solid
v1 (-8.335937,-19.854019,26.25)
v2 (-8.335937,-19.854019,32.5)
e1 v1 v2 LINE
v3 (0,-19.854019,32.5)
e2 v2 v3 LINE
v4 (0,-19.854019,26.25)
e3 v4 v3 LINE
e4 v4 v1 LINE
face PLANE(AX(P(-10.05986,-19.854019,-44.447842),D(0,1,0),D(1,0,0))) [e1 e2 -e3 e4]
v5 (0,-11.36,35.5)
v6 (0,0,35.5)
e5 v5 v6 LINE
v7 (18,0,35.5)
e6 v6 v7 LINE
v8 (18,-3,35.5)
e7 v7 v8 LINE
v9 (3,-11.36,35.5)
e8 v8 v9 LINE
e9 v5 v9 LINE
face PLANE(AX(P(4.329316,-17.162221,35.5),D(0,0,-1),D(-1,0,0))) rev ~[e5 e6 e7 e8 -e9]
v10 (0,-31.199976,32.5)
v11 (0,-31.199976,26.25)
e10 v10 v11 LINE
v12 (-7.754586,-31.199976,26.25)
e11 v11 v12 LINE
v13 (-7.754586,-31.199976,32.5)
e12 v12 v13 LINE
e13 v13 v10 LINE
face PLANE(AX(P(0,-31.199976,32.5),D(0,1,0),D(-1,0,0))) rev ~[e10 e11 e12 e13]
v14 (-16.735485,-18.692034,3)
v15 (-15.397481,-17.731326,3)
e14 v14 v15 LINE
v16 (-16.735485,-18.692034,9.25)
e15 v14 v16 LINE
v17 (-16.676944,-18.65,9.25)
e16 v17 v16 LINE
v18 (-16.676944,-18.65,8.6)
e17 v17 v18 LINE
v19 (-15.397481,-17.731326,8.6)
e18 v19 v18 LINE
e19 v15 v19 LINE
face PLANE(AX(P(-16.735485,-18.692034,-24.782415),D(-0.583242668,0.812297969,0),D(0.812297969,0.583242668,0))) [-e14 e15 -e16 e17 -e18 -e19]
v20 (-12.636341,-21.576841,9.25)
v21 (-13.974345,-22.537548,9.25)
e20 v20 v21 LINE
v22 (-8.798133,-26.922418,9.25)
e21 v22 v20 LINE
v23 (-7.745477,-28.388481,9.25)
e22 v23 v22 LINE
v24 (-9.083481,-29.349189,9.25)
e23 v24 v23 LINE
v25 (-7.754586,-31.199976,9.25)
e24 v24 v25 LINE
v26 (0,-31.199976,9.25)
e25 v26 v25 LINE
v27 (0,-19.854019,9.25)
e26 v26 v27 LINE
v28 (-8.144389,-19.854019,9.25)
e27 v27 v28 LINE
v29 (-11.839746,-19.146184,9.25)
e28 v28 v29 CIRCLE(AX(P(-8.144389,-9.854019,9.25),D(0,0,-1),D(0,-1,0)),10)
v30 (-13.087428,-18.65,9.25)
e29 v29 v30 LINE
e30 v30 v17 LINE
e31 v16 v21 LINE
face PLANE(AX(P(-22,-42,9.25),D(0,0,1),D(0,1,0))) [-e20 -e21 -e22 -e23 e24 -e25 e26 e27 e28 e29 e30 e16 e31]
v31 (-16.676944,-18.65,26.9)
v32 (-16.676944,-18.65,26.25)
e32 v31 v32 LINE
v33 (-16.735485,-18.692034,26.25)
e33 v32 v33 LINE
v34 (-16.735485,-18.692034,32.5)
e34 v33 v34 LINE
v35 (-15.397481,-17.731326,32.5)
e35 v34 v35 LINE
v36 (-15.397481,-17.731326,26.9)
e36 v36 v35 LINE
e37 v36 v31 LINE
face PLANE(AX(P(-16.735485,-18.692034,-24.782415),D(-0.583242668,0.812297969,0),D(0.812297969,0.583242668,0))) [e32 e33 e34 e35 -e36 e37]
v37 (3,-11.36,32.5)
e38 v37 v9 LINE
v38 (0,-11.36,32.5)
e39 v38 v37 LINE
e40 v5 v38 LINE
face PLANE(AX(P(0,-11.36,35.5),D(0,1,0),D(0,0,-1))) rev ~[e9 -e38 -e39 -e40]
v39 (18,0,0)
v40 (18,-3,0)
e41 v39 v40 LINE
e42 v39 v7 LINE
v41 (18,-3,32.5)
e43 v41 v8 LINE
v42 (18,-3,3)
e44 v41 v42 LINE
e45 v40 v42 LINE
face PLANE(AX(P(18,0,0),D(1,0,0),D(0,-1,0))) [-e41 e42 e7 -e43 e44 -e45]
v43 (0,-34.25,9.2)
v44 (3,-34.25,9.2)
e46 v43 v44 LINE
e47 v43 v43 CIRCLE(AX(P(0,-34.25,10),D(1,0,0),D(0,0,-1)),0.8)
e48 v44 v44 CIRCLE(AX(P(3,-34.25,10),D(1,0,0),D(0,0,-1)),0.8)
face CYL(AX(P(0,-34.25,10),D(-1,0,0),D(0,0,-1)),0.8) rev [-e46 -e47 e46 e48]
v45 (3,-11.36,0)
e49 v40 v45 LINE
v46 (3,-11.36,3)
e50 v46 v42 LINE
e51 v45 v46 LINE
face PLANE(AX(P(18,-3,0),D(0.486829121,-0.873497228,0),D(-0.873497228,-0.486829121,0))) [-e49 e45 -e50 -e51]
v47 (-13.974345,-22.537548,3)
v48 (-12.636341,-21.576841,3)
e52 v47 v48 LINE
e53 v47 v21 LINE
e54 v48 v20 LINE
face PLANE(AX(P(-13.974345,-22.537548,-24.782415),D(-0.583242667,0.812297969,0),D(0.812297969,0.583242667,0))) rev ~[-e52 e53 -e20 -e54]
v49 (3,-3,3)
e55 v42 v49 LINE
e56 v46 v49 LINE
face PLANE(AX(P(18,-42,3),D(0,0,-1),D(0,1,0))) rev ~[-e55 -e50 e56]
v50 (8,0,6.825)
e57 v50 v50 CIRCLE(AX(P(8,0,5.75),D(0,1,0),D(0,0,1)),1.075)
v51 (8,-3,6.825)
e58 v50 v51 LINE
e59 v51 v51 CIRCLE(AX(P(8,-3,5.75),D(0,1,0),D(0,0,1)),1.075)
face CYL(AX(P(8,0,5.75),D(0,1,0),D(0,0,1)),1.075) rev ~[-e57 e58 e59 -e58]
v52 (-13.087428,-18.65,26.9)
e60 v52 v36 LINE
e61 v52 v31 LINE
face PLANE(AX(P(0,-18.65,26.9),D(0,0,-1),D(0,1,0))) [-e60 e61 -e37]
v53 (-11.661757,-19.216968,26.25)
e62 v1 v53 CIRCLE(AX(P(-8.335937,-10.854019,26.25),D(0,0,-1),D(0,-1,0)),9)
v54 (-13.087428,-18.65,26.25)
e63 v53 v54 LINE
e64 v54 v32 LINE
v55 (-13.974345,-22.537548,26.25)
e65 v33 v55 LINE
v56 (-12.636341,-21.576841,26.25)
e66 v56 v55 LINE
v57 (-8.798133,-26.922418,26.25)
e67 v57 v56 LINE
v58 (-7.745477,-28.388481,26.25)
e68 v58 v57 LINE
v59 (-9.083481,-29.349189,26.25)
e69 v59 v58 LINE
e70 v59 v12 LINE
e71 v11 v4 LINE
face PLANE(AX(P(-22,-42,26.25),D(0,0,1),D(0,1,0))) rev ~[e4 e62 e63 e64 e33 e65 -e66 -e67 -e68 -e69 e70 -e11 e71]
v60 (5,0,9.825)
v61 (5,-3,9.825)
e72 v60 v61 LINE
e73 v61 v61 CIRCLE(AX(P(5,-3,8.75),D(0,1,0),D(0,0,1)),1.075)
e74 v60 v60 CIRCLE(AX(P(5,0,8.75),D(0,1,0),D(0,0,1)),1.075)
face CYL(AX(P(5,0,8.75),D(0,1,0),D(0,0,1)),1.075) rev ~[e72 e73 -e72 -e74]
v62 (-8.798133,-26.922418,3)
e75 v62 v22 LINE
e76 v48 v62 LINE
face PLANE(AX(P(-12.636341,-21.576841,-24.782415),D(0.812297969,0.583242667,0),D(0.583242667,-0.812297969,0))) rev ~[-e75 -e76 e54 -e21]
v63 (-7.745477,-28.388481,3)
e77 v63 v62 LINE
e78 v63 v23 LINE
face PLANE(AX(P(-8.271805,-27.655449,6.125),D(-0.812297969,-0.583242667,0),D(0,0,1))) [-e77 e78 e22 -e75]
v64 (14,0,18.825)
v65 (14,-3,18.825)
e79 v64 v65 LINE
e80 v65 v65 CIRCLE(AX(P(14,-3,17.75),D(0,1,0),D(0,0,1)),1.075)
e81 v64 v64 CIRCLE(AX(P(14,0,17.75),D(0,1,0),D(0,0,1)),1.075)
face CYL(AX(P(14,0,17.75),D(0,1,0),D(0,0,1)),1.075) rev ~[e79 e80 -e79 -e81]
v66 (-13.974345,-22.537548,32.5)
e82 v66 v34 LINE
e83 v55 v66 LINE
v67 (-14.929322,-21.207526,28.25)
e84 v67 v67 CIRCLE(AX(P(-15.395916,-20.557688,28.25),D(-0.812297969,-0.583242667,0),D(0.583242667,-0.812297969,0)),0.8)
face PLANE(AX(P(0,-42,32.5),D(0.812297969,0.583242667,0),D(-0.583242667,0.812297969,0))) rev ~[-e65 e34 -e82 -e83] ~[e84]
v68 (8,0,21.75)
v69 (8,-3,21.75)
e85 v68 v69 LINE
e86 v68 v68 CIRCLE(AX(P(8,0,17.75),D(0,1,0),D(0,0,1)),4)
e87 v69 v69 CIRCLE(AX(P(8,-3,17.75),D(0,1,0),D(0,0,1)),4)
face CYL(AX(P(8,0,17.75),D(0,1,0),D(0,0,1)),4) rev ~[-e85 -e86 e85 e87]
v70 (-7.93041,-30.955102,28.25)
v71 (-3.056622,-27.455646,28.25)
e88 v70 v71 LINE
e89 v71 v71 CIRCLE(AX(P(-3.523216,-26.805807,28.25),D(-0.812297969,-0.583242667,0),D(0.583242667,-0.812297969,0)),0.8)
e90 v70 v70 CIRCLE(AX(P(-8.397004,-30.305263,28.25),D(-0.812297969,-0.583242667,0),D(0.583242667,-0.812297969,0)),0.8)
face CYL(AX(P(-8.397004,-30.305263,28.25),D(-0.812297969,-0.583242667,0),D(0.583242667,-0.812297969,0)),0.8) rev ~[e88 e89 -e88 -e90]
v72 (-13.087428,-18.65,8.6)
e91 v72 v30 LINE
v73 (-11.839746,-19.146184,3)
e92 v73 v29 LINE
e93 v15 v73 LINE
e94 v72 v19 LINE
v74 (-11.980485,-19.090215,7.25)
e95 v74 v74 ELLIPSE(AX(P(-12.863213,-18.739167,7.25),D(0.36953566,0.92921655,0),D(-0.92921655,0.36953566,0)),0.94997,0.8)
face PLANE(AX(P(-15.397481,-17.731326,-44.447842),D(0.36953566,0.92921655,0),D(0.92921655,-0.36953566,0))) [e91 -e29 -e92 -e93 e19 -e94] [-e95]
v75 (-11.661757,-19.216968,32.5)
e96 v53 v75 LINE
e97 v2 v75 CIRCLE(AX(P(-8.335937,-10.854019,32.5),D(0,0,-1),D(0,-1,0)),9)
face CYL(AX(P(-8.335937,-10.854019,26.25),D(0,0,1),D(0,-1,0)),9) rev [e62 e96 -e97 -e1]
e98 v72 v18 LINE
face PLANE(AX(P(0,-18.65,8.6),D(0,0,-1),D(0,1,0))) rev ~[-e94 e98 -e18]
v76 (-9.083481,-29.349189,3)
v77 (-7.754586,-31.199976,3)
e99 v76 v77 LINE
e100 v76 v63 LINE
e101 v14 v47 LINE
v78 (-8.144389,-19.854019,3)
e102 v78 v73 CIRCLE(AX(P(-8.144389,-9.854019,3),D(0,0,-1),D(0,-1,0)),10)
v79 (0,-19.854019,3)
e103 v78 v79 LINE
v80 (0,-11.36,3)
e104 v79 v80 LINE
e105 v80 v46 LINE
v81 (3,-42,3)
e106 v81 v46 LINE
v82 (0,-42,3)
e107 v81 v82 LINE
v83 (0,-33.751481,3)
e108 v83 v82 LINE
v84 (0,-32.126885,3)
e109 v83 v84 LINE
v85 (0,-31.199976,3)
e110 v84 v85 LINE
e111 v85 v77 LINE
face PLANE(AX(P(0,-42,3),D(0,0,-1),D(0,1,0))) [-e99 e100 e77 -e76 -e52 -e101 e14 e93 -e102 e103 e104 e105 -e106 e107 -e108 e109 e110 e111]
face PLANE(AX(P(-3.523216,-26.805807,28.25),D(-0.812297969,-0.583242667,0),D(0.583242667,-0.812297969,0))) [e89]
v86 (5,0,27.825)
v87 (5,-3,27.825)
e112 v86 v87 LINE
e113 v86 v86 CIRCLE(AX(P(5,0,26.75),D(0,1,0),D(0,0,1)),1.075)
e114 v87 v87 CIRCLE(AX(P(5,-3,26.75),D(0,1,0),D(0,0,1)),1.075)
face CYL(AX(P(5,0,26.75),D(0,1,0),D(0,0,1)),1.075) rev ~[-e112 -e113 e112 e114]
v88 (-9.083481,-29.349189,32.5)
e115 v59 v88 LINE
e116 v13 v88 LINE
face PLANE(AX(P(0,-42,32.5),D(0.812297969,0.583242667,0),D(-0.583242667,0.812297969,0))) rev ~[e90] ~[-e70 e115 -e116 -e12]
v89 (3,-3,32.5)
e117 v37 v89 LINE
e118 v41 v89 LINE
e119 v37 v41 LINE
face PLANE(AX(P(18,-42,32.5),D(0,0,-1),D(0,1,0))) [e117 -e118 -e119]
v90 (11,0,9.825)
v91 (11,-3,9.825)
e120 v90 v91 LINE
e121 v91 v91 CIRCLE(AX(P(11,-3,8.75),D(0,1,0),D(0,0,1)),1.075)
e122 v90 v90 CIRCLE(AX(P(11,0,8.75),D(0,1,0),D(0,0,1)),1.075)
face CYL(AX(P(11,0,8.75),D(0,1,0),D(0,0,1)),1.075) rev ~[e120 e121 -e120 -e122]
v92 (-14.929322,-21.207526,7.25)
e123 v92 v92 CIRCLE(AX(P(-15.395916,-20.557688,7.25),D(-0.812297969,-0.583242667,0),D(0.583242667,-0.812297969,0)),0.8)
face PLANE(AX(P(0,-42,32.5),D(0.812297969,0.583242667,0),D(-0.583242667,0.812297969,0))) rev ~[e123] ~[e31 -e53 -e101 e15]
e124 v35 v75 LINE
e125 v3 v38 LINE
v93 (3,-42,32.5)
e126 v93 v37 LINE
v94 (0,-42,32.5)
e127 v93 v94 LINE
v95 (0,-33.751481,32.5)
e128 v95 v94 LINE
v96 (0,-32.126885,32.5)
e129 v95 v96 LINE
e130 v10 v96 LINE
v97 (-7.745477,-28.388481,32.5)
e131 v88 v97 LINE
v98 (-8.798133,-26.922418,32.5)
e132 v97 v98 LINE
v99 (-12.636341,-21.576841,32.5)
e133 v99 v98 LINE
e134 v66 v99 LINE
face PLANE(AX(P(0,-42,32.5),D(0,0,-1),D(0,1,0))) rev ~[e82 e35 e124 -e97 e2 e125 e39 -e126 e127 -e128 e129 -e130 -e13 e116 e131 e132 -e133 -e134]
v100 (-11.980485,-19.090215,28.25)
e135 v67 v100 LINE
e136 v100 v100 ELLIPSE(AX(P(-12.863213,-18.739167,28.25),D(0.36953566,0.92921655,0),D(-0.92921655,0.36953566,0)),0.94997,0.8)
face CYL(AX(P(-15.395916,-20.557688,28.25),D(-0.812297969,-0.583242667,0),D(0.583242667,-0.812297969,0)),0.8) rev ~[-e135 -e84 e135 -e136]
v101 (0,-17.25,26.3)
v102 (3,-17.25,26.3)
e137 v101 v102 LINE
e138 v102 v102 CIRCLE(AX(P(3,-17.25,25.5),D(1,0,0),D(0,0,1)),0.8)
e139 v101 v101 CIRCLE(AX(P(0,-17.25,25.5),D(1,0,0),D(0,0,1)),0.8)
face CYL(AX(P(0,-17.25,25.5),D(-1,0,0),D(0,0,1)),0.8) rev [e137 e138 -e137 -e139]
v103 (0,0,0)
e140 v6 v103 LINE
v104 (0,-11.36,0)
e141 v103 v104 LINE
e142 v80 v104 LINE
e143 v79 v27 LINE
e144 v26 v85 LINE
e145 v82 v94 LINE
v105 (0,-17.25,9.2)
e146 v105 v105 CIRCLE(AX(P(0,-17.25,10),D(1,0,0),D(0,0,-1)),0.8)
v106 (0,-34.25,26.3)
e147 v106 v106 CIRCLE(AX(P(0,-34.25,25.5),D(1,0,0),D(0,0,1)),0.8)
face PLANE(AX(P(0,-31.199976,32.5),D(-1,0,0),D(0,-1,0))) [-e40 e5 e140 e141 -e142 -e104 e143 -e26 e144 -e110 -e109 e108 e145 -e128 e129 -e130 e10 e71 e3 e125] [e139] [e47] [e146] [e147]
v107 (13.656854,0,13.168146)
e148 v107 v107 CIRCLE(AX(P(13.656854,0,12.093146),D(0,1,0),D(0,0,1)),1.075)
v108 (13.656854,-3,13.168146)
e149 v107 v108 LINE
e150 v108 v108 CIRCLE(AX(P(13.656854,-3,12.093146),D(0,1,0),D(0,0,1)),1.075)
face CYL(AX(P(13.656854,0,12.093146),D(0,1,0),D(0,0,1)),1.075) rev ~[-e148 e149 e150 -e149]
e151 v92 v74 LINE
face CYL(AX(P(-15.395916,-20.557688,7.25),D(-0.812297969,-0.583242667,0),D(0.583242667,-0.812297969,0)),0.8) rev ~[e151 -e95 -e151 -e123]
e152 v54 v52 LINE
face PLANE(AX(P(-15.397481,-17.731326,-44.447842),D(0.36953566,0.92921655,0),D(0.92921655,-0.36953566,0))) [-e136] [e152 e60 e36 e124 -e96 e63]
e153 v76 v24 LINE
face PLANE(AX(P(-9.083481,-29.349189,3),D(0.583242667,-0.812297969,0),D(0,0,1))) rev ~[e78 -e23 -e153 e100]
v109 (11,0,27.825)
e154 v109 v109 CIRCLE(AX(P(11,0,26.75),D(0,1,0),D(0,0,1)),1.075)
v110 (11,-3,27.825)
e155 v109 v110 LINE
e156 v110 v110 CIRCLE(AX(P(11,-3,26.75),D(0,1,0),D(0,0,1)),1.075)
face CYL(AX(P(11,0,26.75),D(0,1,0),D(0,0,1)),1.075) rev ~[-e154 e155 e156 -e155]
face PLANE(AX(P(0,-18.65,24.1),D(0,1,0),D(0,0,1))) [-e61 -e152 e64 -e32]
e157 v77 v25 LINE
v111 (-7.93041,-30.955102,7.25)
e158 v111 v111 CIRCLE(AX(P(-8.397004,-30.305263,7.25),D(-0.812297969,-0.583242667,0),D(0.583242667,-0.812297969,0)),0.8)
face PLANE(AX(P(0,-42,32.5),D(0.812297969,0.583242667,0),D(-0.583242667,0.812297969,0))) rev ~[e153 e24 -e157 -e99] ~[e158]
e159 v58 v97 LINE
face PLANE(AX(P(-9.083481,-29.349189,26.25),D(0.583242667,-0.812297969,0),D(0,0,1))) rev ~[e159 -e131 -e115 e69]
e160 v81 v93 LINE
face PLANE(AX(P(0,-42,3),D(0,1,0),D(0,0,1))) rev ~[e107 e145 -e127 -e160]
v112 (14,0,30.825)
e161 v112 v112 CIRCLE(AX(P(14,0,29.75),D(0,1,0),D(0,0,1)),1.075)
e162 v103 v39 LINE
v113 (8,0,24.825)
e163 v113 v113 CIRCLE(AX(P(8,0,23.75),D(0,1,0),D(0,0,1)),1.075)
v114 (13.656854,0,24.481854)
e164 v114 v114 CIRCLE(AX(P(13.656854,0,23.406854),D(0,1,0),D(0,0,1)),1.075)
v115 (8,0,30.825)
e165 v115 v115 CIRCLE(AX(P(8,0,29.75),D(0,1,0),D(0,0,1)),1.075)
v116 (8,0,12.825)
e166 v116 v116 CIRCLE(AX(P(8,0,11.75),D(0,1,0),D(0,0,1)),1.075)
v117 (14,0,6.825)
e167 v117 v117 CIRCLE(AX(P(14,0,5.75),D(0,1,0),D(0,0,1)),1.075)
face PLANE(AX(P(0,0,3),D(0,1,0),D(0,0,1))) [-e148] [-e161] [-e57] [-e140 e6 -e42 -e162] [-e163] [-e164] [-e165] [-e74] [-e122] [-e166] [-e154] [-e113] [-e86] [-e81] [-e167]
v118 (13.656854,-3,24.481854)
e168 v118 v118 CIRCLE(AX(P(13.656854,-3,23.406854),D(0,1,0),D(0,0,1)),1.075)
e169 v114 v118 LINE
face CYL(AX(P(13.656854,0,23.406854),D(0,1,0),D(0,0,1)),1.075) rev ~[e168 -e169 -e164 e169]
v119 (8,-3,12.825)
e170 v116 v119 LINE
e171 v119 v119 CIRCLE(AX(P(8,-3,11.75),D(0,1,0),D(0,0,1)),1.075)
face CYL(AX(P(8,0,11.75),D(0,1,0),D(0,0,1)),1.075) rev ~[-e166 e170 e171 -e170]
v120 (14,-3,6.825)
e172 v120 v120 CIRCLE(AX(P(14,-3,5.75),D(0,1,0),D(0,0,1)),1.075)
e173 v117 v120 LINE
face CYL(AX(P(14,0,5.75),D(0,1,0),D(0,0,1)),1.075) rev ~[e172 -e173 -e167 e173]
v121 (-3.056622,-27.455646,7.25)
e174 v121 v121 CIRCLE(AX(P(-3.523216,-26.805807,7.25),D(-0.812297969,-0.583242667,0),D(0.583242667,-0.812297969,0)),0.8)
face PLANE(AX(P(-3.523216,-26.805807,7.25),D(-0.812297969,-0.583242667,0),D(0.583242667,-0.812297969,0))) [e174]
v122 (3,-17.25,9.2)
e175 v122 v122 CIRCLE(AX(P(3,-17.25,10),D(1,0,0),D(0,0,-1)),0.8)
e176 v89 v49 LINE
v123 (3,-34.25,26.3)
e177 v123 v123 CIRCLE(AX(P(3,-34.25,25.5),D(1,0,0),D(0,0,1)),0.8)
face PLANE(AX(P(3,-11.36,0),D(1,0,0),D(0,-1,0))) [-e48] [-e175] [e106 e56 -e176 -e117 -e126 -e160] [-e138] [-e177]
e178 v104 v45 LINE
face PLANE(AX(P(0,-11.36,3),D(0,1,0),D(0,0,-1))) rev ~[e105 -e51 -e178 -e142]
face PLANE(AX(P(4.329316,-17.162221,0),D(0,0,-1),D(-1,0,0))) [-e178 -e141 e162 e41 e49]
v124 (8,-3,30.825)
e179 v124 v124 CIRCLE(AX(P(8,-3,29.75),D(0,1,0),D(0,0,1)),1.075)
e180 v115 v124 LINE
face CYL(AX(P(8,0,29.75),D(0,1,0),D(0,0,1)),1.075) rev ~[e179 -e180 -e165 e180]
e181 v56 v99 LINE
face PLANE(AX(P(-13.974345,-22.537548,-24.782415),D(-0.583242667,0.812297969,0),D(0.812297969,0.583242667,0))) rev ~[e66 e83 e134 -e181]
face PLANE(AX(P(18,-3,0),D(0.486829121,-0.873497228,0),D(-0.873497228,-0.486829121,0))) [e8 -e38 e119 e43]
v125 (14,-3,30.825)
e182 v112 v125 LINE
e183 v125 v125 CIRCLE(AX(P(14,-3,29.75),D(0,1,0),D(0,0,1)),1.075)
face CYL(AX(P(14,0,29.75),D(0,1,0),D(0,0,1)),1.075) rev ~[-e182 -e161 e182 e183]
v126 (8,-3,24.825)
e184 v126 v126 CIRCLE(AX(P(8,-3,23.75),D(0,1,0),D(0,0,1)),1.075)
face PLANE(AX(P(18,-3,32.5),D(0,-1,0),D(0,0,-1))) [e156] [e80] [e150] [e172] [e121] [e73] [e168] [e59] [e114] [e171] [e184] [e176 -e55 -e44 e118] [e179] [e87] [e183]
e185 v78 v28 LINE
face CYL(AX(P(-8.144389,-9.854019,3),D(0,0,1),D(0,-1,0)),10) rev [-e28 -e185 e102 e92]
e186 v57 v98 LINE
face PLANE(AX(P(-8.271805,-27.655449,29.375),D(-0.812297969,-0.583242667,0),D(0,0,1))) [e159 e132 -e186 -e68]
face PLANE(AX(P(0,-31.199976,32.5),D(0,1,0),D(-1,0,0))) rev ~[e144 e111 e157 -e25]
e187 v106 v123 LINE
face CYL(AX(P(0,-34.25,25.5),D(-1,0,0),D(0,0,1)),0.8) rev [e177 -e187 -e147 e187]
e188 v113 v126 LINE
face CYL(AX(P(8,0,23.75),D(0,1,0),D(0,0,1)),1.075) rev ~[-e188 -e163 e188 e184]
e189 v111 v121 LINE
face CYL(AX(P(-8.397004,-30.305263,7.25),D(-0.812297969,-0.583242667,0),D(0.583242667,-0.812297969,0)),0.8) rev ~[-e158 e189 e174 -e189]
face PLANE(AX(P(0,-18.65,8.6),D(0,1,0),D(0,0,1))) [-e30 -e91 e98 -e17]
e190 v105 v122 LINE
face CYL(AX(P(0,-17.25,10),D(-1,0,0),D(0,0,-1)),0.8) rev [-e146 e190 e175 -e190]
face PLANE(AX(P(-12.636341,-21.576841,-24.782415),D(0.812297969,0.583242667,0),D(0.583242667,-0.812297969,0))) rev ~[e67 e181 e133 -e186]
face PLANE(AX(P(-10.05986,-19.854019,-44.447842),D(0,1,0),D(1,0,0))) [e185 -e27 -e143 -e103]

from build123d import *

# Parameters (mm, degrees)
EXTRUDE_1_DEPTH         = 35.5
SKETCH_2_W              = 29.5
SKETCH_2_H              = 39
CUT_EXTRUDE_2_DEPTH     = 15
SKETCH_3_W              = 3
SKETCH_3_H              = 30.64
CUT_EXTRUDE_3_DEPTH     = 3
SKETCH_4_R              = 0.8
CUT_EXTRUDE_4_DEPTH     = 3
SKETCH_5_R              = 1.075
SKETCH_5_R_2            = 4
CUT_EXTRUDE_6_DEPTH     = 4
SKETCH2_W               = 29.5
SKETCH2_H               = 42
BOSS_EXTRUDE1_DEPTH     = 22
CUT_EXTRUDE1_DEPTH      = 58.482606065
SKETCH4_W               = 17
SKETCH4_H               = 42
CUT_EXTRUDE2_DEPTH      = 22
SKETCH5_R               = 0.8
CUT_EXTRUDE3_DEPTH      = 6
CUT_EXTRUDE4_DEPTH      = 58.482606065
CUT_EXTRUDE4_DEPTH_BACK = 58.482606065
CUT_EXTRUDE5_DEPTH      = 57.282415378
CUT_EXTRUDE5_DEPTH_BACK = 57.282415378
CUT_EXTRUDE6_DEPTH      = 57.282415378
CUT_EXTRUDE6_DEPTH_BACK = 57.282415378
CUT_EXTRUDE7_DEPTH      = 57.073612332
CUT_EXTRUDE7_DEPTH_BACK = 57.073612332
SKETCH9_W               = 7.089051245
SKETCH9_H               = 1.624595939
CUT_EXTRUDE8_DEPTH      = 53.697841512
CUT_EXTRUDE8_DEPTH_BACK = 53.697841512
SKETCH11_W              = 2.8
SKETCH11_H              = 2.8
CUT_EXTRUDE9_DEPTH      = 58.864064842
CUT_EXTRUDE10_DEPTH     = 57.073612332
SKETCH13_W              = 6.25
SKETCH13_H              = 1.804834364
CUT_EXTRUDE11_DEPTH     = 1.647183607
FILLET1_R               = 10
FILLET2_R               = 9


with BuildPart() as part:
    # 草图1 → 凸台-拉伸1 (new body)
    with BuildSketch(Plane.XY):
        Polygon((0, 0), (18, 0), (18, -3), (3, -11.36), (3, -42), (0, -42), align=None)
    extrude(amount=EXTRUDE_1_DEPTH)

    # 草图2 → 切除-拉伸2 (cut)
    with BuildSketch(Plane(origin=(18, 0, 0), x_dir=(0, 0, -1), z_dir=(1, 0, 0))):
        with Locations((-17.75, -22.5)):
            Rectangle(SKETCH_2_W, SKETCH_2_H)
    extrude(amount=-CUT_EXTRUDE_2_DEPTH, mode=Mode.SUBTRACT)

    # 草图3 → 切除-拉伸3 (cut)
    with BuildSketch(Plane(origin=(0, 0, 0), x_dir=(0, 0, -1), z_dir=(1, 0, 0))):
        with Locations((-34, -26.68)):
            Rectangle(SKETCH_3_W, SKETCH_3_H)
        with Locations((-1.5, -26.68)):
            Rectangle(SKETCH_3_W, SKETCH_3_H)
    extrude(amount=CUT_EXTRUDE_3_DEPTH, mode=Mode.SUBTRACT)

    # 草图4 → 切除-拉伸4 (cut)
    with BuildSketch(Plane(origin=(0, 0, 0), x_dir=(0, 0, -1), z_dir=(1, 0, 0))):
        with Locations((-10, -17.25)):
            Circle(SKETCH_4_R)
        with Locations((-10, -34.25)):
            Circle(SKETCH_4_R)
        with Locations(Location((-25.5, -34.25, 0), (0, 0, 180))):
            Circle(SKETCH_4_R)
        with Locations(Location((-25.5, -17.25, 0), (0, 0, 180))):
            Circle(SKETCH_4_R)
    extrude(amount=CUT_EXTRUDE_4_DEPTH, mode=Mode.SUBTRACT)

    # 草图5 → 切除-拉伸6 (cut)
    with BuildSketch(Plane(origin=(0, 0, 0), x_dir=(1, 0, 0), z_dir=(0, 1, 0))):
        with Locations(Location((14, -17.75, 0), (0, 0, 270))):
            Circle(SKETCH_5_R)
        with Locations(Location((13.656854249, -23.406854249, 0), (0, 0, 270))):
            Circle(SKETCH_5_R)
        with Locations(Location((14, -29.75, 0), (0, 0, 270))):
            Circle(SKETCH_5_R)
        with Locations(Location((5, -26.75, 0), (0, 0, 270))):
            Circle(SKETCH_5_R)
        with Locations(Location((5, -8.75, 0), (0, 0, 270))):
            Circle(SKETCH_5_R)
        with Locations(Location((14, -5.75, 0), (0, 0, 270))):
            Circle(SKETCH_5_R)
        with Locations(Location((13.656854249, -12.093145751, 0), (0, 0, 270))):
            Circle(SKETCH_5_R)
        with Locations(Location((8, -17.75, 0), (0, 0, 270))):
            Circle(SKETCH_5_R_2)
        with Locations(Location((8, -23.75, 0), (0, 0, 270))):
            Circle(SKETCH_5_R)
        with Locations(Location((8, -11.75, 0), (0, 0, 270))):
            Circle(SKETCH_5_R)
        with Locations(Location((11, -26.75, 0), (0, 0, 270))):
            Circle(SKETCH_5_R)
        with Locations(Location((11, -8.75, 0), (0, 0, 270))):
            Circle(SKETCH_5_R)
        with Locations(Location((8, -29.75, 0), (0, 0, 270))):
            Circle(SKETCH_5_R)
        with Locations(Location((8, -5.75, 0), (0, 0, 270))):
            Circle(SKETCH_5_R)
    extrude(amount=-CUT_EXTRUDE_6_DEPTH, mode=Mode.SUBTRACT)

    # Sketch2 → Boss-Extrude1 (add)
    with BuildSketch(Plane.ZY):
        with Locations((17.75, -21)):
            Rectangle(SKETCH2_W, SKETCH2_H)
    extrude(amount=BOSS_EXTRUDE1_DEPTH)

    # Sketch3 → Cut-Extrude1 (cut, through all)
    with BuildSketch(Plane.XY.offset(32.5)):
        Polygon((0, -42), (-22, -11.36), (-22, -42), align=None)
    extrude(amount=-CUT_EXTRUDE1_DEPTH, mode=Mode.SUBTRACT)

    # Sketch4 → Cut-Extrude2 (cut)
    with BuildSketch(Plane.ZY.offset(22)):
        with Locations((17.75, -21)):
            Rectangle(SKETCH4_W, SKETCH4_H)
    extrude(amount=-CUT_EXTRUDE2_DEPTH, mode=Mode.SUBTRACT)

    # Sketch5 → Cut-Extrude3 (cut)
    with BuildSketch(Plane(origin=(-19.89820704, -14.287224376, 0), x_dir=(0, 0, 1), z_dir=(-0.8122979693681996, -0.5832426673009267, 0))):
        with Locations(Location((7.25, -7.719412775, 0), (0, 0, 270))):
            Circle(SKETCH5_R)
        with Locations(Location((7.25, -19.719412775, 0), (0, 0, 270))):
            Circle(SKETCH5_R)
        with Locations(Location((28.25, -7.719412775, 0), (0, 0, 270))):
            Circle(SKETCH5_R)
        with Locations(Location((28.25, -19.719412775, 0), (0, 0, 270))):
            Circle(SKETCH5_R)
    extrude(amount=-CUT_EXTRUDE3_DEPTH, mode=Mode.SUBTRACT)

    # Sketch6 → Cut-Extrude4 (cut, two sides: drawn at the far end of the back side and taken through both)
    with BuildSketch(Plane.XY.offset(32.5).offset(-CUT_EXTRUDE4_DEPTH_BACK)):
        Polygon((-18.640286498, -16.039164622), (0, -2.655146902), (0, 0), (-22, 0), (-22, -11.36), align=None)
    extrude(amount=CUT_EXTRUDE4_DEPTH + CUT_EXTRUDE4_DEPTH_BACK, mode=Mode.SUBTRACT)

    # Sketch7 → Cut-Extrude5 (cut, two sides: drawn at the far end of the back side and taken through both)
    with BuildSketch(Plane.XY.offset(32.5).offset(-CUT_EXTRUDE5_DEPTH_BACK)):
        Polygon((-5.922565911, -33.751480932), (0, -33.751480932), (0, -42), align=None)
    extrude(amount=CUT_EXTRUDE5_DEPTH + CUT_EXTRUDE5_DEPTH_BACK, mode=Mode.SUBTRACT)

    # Sketch8 → Cut-Extrude6 (cut, two sides: drawn at the far end of the back side and taken through both)
    with BuildSketch(Plane.XY.offset(32.5).offset(-CUT_EXTRUDE6_DEPTH_BACK)):
        Polygon((-16.735484956, -18.69203368), (-15.397481057, -17.731325919), (-17.302282599, -15.078456862), (-18.640286498, -16.039164622), align=None)
        Polygon((-13.97434516, -22.537548377), (-12.636341261, -21.576840617), (-8.798133161, -26.922417715), (-10.13613706, -27.883125476), align=None)
        Polygon((-7.089051245, -32.126884993), (-5.798120087, -31.199976198), (-3.966099716, -33.751480932), (-5.922565911, -33.751480932), align=None)
    extrude(amount=CUT_EXTRUDE6_DEPTH + CUT_EXTRUDE6_DEPTH_BACK, mode=Mode.SUBTRACT)

    # Sketch9 → Cut-Extrude7 (cut, two sides: drawn at the far end of the back side and taken through both)
    with BuildSketch(Plane.XY.offset(32.5).offset(-CUT_EXTRUDE7_DEPTH_BACK)):
        with Locations((-3.544525623, -32.939182962)):
            Rectangle(SKETCH9_W, SKETCH9_H)
    extrude(amount=CUT_EXTRUDE7_DEPTH + CUT_EXTRUDE7_DEPTH_BACK, mode=Mode.SUBTRACT)

    # Sketch10 → Cut-Extrude8 (cut, two sides: drawn at the far end of the back side and taken through both)
    with BuildSketch(Plane.XY.offset(9.25).offset(-CUT_EXTRUDE8_DEPTH_BACK)):
        Polygon((-10.059859583, -19.854018926), (0, -19.854018926), (0, -13.95755501), (0, -2.655146902), (-17.302282599, -15.078456862), (-15.397481057, -17.731325919), align=None)
    extrude(amount=CUT_EXTRUDE8_DEPTH + CUT_EXTRUDE8_DEPTH_BACK, mode=Mode.SUBTRACT)

    # Sketch11 → Cut-Extrude9 (cut, through all)
    with BuildSketch(Plane.ZY):
        with Locations((10, -17.25)):
            Rectangle(SKETCH11_W, SKETCH11_H)
        with Locations((25.5, -17.25)):
            Rectangle(SKETCH11_W, SKETCH11_H)
    extrude(amount=CUT_EXTRUDE9_DEPTH, mode=Mode.SUBTRACT)

    # Sketch12 → Cut-Extrude10 (cut, through all)
    with BuildSketch(Plane.XY.offset(32.5)):
        Polygon((-5.798120087, -31.199976198), (0, -31.199976198), (0, -32.126884993), (-9.163402462, -32.126884993), (-9.163402462, -31.199976198), align=None)
    extrude(amount=-CUT_EXTRUDE10_DEPTH, mode=Mode.SUBTRACT)

    # Sketch13 → Cut-Extrude11 (cut)
    with BuildSketch(Plane(origin=(-19.89820704, -14.287224376, 0), x_dir=(0, 0, 1), z_dir=(-0.8122979693681996, -0.5832426673009267, 0))):
        with Locations((6.125, -17.63999577)):
            Rectangle(SKETCH13_W, SKETCH13_H)
        with Locations((29.375, -17.63999577)):
            Rectangle(SKETCH13_W, SKETCH13_H)
    extrude(amount=-CUT_EXTRUDE11_DEPTH, mode=Mode.SUBTRACT)

    # Fillet1
    fillet1_edges = [part.edges().sort_by_distance(p)[0] for p in [
        (-10.059859583, -19.854018926, 6.125),
    ]]
    fillet(fillet1_edges, radius=FILLET1_R)

    # Fillet2
    fillet2_edges = [part.edges().sort_by_distance(p)[0] for p in [
        (-10.059859583, -19.854018926, 29.375),
    ]]
    fillet(fillet2_edges, radius=FILLET2_R)


solid = part.part
